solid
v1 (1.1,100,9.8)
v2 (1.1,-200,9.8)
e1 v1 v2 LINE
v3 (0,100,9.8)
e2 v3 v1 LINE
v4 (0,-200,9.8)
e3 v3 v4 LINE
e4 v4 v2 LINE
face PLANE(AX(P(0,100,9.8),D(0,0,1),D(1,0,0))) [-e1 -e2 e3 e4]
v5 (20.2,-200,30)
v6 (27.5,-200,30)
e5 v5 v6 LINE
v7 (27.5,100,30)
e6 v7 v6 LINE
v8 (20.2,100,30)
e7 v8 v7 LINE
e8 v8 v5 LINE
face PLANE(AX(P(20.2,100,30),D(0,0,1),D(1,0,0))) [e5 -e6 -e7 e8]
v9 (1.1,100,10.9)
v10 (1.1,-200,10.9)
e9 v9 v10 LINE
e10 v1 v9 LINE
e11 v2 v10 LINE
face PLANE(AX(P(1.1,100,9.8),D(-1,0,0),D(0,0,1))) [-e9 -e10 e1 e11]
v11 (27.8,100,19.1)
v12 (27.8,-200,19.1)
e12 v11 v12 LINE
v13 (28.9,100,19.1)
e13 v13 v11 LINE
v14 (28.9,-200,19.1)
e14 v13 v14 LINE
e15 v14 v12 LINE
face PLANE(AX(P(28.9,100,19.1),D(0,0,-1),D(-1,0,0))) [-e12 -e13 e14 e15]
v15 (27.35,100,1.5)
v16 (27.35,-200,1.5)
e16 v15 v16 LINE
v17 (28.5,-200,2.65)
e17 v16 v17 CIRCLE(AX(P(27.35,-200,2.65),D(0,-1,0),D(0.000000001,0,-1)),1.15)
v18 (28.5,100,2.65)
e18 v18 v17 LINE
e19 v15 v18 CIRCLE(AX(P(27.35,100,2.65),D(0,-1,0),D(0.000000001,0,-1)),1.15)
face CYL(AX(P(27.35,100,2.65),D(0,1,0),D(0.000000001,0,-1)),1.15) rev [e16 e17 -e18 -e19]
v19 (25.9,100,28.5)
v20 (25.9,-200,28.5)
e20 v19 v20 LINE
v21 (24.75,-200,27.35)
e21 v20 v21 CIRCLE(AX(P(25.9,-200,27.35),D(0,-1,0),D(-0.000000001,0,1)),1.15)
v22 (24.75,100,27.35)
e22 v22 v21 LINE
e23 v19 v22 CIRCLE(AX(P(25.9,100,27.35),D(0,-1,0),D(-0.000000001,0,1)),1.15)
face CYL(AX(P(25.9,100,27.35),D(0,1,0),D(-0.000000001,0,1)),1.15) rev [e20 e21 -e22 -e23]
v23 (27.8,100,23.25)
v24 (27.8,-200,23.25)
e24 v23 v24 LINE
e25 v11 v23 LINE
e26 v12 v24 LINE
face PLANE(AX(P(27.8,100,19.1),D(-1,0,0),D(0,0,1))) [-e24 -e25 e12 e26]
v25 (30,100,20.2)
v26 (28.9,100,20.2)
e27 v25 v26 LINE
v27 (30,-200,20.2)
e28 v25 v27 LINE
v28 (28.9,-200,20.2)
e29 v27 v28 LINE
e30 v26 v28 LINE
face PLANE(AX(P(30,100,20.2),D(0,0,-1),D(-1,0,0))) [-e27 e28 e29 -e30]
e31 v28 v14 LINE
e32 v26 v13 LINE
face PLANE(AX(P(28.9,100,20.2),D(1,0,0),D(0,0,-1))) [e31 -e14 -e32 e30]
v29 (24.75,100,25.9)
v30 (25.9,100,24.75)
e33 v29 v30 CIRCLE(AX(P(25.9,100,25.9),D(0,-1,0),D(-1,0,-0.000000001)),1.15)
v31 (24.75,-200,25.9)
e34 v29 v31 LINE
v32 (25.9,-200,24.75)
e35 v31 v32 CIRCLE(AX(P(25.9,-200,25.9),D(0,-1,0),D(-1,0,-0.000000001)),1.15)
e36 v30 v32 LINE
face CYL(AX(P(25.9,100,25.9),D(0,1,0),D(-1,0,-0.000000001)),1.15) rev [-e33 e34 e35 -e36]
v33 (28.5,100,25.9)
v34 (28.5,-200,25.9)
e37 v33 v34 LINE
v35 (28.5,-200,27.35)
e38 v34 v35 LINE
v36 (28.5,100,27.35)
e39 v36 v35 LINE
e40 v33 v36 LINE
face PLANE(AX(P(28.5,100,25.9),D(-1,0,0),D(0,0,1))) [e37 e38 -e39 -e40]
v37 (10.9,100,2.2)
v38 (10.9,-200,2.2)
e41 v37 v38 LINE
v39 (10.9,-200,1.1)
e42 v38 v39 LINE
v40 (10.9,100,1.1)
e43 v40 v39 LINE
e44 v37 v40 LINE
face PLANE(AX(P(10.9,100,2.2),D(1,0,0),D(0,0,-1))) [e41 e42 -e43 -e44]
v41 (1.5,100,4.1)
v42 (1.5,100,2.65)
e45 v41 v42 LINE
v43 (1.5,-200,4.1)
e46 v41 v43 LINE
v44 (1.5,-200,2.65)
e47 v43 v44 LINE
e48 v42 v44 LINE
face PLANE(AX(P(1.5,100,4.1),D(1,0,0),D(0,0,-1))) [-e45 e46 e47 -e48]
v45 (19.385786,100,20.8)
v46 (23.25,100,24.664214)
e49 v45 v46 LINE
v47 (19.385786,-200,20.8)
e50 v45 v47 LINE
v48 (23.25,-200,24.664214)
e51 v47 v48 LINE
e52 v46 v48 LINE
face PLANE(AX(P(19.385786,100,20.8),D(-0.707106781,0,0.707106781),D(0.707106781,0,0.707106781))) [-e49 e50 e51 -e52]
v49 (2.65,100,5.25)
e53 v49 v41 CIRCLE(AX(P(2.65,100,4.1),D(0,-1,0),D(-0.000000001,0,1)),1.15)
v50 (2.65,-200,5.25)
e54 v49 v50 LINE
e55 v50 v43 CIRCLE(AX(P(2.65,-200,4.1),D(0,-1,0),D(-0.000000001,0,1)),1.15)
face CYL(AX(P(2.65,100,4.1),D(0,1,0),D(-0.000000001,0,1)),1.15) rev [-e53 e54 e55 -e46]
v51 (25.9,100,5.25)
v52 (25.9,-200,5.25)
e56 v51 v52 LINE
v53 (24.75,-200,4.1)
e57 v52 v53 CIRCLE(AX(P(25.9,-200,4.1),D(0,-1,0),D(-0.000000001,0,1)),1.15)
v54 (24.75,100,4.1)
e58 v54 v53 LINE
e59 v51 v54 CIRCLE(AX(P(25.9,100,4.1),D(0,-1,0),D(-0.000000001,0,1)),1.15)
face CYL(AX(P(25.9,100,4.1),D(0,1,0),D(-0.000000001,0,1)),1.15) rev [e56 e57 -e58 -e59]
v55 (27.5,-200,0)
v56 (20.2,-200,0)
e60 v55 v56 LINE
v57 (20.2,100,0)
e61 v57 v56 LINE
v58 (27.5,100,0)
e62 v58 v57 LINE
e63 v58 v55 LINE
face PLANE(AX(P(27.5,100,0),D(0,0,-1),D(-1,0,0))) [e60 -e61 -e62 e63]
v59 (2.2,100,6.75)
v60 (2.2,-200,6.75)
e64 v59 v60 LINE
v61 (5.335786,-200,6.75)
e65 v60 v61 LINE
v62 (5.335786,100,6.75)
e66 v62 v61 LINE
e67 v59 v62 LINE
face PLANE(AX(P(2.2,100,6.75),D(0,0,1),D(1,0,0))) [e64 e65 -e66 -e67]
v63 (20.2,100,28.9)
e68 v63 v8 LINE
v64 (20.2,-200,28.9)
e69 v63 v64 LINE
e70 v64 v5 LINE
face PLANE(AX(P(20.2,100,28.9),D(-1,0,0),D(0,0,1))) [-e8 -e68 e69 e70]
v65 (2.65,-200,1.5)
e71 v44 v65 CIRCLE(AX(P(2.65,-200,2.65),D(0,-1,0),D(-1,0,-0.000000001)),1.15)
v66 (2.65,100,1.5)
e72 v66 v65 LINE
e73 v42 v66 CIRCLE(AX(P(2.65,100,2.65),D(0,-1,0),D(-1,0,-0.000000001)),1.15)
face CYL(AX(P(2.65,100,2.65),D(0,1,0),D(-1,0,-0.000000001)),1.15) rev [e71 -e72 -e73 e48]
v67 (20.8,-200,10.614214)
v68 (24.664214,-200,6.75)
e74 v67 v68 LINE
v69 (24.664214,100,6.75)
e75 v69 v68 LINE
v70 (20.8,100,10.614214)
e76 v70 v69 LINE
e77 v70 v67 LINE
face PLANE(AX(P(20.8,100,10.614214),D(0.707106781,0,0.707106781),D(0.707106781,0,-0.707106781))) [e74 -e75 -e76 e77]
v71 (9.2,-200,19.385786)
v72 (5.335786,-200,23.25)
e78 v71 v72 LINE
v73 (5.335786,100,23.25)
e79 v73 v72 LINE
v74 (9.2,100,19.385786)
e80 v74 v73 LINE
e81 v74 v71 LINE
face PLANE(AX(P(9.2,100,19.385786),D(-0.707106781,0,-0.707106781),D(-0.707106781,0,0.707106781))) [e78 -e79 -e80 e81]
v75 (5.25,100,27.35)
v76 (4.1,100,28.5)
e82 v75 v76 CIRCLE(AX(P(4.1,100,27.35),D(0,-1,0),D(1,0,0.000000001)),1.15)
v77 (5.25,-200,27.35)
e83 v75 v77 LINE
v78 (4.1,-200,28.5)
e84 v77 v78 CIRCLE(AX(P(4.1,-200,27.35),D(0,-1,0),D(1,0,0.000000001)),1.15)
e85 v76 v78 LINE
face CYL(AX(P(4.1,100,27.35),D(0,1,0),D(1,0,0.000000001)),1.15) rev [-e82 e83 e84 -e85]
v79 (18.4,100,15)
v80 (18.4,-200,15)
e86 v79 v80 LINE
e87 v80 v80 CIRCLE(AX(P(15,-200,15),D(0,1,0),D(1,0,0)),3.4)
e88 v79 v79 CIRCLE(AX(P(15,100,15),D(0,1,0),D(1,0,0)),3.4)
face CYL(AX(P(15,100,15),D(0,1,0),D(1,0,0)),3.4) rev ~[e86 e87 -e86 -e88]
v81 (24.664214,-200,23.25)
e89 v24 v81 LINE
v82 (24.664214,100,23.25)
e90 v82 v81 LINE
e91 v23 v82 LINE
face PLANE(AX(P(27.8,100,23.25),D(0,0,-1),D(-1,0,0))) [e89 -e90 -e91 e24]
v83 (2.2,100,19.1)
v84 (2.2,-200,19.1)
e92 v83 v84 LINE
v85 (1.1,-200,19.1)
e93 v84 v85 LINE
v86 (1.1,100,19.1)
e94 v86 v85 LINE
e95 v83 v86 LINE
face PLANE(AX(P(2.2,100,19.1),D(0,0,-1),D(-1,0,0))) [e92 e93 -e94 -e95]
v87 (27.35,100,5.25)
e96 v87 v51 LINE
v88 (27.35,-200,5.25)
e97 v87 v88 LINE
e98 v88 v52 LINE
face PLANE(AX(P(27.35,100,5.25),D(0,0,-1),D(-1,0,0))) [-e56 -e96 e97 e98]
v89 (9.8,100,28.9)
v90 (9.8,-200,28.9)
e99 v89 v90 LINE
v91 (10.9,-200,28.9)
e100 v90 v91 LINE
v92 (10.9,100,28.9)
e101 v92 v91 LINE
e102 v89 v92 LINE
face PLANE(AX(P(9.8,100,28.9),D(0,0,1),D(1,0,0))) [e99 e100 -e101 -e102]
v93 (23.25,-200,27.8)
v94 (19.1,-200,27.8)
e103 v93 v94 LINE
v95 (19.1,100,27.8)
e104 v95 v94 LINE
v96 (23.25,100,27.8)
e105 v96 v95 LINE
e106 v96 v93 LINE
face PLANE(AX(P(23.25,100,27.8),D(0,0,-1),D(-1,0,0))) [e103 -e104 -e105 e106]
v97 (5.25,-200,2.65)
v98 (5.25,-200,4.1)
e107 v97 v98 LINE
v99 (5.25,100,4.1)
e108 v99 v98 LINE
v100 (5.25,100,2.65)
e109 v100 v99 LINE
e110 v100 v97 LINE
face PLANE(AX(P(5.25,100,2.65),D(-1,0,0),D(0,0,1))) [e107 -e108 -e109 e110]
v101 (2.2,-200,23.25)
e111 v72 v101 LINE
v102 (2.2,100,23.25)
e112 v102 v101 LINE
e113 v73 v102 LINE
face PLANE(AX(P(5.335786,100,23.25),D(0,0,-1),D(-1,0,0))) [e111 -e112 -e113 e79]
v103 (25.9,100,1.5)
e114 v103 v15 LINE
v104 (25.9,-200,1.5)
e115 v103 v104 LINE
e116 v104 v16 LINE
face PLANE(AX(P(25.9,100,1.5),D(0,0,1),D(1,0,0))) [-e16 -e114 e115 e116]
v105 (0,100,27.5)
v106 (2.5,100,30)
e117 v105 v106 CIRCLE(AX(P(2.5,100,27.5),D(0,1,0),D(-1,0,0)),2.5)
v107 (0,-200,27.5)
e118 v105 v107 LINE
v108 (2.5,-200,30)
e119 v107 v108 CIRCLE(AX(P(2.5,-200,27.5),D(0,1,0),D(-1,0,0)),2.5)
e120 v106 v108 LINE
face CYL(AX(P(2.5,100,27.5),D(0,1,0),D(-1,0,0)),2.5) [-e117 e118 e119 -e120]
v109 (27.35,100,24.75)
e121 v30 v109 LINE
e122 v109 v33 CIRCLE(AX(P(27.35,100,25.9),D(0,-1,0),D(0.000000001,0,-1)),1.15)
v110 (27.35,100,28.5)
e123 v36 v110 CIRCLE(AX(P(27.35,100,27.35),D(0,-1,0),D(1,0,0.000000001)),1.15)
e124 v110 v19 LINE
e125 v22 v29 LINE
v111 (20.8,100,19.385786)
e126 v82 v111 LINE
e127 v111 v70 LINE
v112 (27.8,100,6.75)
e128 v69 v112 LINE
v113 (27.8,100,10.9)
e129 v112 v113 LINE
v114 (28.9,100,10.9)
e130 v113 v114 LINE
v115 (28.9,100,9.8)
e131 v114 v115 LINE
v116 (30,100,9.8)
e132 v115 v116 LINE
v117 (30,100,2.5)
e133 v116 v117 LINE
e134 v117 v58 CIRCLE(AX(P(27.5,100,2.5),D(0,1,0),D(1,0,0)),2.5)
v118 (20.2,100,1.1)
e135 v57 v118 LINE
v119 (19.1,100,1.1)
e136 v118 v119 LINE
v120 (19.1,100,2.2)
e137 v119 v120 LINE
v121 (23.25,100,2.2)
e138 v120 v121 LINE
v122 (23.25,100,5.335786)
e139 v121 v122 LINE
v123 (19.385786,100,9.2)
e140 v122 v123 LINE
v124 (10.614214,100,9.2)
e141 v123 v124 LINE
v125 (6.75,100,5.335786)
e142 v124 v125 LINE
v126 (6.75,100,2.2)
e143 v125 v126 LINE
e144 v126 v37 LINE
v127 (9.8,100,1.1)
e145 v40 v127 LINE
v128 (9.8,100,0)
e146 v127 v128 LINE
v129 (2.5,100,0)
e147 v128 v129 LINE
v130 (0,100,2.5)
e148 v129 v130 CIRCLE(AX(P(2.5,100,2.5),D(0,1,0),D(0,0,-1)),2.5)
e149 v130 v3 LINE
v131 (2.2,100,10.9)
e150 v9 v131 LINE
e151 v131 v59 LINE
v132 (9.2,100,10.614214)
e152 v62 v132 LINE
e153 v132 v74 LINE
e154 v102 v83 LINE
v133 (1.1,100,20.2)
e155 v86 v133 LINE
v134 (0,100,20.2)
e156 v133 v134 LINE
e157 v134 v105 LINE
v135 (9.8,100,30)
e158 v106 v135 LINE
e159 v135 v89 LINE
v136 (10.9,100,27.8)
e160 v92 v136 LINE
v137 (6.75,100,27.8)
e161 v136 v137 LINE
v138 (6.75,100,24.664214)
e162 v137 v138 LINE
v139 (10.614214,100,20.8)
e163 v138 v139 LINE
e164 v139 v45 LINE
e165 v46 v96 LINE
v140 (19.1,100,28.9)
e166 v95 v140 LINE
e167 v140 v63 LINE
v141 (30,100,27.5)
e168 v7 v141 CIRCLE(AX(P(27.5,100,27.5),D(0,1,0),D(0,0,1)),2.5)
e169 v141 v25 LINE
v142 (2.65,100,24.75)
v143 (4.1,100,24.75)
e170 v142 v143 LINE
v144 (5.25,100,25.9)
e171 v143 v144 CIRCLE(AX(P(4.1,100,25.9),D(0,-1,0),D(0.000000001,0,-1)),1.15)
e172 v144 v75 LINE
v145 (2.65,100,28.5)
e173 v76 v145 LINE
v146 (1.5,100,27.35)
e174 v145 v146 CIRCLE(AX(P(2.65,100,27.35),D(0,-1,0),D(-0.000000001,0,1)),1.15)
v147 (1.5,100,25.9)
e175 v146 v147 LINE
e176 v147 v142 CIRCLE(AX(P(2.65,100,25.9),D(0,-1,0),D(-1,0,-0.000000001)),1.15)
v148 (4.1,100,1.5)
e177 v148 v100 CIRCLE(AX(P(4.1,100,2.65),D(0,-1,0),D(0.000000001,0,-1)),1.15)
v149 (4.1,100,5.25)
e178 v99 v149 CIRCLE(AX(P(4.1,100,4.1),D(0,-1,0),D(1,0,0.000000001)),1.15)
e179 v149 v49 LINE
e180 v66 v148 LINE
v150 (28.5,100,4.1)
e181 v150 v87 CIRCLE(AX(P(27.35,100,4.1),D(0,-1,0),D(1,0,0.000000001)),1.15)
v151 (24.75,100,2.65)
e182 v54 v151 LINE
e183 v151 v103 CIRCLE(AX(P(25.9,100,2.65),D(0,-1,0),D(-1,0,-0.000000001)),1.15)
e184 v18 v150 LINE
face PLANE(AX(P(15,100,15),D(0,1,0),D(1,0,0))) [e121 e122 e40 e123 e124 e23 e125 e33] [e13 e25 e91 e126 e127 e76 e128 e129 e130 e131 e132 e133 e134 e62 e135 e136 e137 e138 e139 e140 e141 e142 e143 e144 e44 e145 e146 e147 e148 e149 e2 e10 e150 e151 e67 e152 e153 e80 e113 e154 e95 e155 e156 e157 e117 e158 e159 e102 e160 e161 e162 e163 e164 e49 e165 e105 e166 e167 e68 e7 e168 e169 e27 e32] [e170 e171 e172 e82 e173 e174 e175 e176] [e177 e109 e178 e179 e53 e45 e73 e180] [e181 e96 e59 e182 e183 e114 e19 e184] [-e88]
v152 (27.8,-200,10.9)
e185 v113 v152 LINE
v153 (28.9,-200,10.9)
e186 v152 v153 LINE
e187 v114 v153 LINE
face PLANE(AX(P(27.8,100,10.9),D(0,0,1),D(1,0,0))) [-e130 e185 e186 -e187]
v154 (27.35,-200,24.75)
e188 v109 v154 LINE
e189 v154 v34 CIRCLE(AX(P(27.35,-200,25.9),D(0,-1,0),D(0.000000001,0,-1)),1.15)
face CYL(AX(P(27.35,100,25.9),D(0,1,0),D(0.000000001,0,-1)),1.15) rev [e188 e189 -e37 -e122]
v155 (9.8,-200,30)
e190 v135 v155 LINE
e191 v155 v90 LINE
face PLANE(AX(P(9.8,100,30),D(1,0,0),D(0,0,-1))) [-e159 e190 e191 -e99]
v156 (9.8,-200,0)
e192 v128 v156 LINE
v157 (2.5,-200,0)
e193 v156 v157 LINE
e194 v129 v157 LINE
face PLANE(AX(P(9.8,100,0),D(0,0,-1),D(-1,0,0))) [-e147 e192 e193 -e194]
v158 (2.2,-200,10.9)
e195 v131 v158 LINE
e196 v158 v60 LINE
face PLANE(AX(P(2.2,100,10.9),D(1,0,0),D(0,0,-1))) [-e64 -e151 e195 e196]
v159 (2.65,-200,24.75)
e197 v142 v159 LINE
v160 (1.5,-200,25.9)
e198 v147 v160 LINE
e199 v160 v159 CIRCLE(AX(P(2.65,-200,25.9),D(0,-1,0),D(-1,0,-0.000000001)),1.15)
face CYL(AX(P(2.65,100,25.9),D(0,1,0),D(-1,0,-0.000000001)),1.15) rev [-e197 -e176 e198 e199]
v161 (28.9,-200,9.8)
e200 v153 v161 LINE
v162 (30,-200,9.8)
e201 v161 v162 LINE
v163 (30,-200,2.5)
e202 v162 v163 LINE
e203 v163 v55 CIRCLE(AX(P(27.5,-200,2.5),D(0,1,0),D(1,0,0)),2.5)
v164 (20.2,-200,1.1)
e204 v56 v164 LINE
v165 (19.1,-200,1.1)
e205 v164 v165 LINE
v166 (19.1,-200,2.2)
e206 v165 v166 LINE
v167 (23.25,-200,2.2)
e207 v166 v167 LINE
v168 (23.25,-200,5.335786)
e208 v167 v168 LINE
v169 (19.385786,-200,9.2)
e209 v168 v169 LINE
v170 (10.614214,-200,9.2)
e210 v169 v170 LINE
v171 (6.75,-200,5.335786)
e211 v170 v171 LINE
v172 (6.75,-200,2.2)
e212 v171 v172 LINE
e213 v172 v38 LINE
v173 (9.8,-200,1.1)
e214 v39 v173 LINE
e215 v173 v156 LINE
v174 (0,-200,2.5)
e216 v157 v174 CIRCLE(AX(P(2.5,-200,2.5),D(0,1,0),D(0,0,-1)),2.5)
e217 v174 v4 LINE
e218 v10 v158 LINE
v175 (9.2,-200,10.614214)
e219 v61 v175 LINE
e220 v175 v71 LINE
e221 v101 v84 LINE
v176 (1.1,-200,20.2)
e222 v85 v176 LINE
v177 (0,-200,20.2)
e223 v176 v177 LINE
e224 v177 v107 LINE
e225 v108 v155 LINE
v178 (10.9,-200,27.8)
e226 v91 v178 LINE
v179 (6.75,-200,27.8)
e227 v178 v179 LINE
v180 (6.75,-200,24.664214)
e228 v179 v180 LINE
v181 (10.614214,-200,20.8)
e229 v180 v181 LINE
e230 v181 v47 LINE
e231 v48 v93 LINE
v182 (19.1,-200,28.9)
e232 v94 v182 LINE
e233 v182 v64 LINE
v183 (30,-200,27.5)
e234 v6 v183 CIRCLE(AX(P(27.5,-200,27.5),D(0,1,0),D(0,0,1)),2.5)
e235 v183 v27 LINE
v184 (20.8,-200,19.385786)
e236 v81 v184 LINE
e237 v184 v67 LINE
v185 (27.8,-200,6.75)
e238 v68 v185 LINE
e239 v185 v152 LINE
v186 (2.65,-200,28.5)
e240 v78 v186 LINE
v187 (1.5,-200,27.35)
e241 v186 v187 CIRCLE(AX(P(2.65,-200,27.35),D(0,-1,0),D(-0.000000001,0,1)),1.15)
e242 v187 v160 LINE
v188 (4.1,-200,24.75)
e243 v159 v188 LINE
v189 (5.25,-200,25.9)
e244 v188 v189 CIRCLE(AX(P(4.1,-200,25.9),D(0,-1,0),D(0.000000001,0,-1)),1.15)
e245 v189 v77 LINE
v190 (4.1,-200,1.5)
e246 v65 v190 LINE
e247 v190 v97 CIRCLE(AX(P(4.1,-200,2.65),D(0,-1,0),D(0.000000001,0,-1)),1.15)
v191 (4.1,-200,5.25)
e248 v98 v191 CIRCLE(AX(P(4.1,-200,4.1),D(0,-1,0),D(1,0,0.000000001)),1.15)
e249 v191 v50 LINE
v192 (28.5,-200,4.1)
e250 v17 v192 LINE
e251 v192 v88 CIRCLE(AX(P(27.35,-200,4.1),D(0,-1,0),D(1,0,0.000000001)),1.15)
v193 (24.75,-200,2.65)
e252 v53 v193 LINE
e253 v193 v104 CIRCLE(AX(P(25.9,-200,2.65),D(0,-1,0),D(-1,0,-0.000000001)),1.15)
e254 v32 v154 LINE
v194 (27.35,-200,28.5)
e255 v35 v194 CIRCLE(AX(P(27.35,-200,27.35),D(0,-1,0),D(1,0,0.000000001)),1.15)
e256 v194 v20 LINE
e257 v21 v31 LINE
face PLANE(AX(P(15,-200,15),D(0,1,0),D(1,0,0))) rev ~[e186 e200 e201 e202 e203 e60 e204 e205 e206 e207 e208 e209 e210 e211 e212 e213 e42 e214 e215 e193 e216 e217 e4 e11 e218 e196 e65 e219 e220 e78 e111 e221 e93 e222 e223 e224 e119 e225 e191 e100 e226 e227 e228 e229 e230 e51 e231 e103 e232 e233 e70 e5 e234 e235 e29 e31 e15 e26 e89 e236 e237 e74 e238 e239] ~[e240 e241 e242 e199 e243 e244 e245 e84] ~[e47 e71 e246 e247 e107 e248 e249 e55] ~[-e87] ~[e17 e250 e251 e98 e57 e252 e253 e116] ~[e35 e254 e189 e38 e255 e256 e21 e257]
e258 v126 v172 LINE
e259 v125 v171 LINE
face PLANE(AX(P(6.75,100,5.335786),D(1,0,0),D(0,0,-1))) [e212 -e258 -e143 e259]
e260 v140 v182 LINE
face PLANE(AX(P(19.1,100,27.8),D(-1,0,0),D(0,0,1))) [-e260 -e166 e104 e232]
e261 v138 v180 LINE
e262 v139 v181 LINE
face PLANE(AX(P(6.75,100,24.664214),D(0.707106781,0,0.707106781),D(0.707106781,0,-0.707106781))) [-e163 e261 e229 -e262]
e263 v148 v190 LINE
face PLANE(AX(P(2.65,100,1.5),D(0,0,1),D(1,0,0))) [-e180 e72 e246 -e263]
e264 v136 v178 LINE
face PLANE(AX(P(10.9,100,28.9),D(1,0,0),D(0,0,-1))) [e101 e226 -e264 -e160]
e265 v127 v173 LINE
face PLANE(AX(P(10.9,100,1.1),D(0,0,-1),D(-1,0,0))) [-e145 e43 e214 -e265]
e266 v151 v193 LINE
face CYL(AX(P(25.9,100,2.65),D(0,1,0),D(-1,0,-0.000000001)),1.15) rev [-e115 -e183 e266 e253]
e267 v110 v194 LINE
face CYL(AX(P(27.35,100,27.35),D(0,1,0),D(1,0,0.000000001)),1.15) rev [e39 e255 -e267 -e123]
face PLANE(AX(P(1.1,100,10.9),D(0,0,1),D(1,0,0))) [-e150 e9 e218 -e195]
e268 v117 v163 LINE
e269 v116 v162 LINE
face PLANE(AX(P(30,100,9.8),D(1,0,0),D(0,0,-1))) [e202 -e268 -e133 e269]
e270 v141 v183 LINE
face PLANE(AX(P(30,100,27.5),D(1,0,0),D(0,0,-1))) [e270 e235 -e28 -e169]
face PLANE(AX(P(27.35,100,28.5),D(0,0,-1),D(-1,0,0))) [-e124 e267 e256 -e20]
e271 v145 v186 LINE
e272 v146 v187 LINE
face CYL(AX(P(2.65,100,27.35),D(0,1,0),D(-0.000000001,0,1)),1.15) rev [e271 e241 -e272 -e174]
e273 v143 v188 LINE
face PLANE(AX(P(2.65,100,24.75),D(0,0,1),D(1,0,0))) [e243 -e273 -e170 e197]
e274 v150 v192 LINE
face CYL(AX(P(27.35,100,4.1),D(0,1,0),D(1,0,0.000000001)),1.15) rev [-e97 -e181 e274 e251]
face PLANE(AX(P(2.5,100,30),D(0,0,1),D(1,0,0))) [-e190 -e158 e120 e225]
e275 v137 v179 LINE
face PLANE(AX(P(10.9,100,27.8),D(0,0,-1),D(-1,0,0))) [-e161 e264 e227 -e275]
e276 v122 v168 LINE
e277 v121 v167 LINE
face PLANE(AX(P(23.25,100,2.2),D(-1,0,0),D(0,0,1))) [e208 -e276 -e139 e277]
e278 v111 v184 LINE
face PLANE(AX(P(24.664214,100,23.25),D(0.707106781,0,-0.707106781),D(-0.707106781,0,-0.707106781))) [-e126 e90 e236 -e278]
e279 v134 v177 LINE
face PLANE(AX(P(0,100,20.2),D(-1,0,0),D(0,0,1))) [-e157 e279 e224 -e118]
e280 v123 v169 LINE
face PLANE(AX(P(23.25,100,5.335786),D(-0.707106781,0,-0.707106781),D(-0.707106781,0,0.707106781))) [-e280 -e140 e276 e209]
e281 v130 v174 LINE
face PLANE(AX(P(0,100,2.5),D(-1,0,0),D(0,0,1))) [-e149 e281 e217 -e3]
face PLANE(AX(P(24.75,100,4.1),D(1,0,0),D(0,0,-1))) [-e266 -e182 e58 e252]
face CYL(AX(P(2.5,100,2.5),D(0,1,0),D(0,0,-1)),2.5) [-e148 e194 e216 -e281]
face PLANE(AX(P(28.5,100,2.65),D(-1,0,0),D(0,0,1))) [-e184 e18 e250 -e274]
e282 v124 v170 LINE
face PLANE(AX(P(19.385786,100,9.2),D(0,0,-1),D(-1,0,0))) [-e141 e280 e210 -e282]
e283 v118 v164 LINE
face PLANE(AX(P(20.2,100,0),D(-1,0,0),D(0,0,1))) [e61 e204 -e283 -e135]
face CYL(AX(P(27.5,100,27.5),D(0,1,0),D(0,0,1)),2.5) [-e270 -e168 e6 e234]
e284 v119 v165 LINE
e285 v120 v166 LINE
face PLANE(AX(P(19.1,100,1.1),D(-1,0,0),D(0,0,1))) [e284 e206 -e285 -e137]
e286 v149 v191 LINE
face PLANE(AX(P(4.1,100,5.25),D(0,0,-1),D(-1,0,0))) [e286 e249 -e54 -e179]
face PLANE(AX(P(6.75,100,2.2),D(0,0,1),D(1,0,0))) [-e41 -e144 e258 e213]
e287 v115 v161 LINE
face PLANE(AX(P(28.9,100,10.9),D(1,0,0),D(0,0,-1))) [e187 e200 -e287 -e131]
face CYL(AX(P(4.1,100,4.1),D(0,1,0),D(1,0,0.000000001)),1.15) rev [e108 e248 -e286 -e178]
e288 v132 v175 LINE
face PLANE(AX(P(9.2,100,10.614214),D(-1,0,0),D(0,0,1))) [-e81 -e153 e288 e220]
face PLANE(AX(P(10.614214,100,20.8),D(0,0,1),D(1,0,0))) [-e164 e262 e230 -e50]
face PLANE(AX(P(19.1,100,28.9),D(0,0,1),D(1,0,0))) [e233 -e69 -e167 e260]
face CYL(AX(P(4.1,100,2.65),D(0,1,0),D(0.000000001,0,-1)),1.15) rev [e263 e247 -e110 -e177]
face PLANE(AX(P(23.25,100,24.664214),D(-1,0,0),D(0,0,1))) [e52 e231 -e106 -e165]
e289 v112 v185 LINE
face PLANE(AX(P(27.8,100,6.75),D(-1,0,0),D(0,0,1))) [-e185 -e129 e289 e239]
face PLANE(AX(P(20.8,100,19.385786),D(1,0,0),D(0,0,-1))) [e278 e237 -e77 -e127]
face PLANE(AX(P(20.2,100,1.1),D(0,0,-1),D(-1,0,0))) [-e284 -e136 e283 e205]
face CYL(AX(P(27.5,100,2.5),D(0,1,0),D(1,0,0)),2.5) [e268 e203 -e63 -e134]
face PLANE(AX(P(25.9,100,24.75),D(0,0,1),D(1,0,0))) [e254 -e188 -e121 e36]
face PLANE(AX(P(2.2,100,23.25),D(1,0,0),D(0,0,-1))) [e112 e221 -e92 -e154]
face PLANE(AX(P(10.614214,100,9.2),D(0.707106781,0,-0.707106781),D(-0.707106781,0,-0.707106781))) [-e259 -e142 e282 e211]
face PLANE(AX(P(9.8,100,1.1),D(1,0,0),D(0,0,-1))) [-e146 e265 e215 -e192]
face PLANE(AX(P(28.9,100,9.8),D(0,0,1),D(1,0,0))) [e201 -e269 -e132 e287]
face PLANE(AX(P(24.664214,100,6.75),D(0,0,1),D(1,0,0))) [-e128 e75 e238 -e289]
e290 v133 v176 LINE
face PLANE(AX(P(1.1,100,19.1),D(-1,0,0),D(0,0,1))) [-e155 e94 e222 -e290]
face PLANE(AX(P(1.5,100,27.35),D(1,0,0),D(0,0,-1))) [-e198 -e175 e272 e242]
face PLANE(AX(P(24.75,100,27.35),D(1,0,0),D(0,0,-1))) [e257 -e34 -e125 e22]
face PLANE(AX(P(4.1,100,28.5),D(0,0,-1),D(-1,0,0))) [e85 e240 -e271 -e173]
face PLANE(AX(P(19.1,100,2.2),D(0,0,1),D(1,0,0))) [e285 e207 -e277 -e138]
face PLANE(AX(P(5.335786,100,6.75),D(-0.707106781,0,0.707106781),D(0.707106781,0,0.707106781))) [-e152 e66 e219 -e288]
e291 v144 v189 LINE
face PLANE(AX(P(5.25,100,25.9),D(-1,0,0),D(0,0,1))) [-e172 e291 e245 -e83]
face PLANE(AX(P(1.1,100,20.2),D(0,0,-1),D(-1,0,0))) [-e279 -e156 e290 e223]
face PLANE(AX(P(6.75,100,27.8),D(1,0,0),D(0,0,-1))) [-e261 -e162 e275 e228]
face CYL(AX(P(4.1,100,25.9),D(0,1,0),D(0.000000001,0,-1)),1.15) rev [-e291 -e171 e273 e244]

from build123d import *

# Parameters (mm, degrees)
SKETCH1_R           = 3.4
BOSS_EXTRUDE1_DEPTH = 300


with BuildPart() as part:
    # Sketch1 → Boss-Extrude1 (new body)
    with BuildSketch(Plane(origin=(0, 100, 0), x_dir=(1, 0, 0), z_dir=(0, 1, 0))):
        with BuildLine():
            Line((27.5, 0), (20.200000224, 0))
            Line((20.200000224, 0), (20.200000224, -1.1))
            Line((20.200000224, -1.1), (19.1, -1.1))
            Line((19.1, -1.1), (19.1, -2.2))
            Line((19.1, -2.2), (23.249999989, -2.2))
            Line((23.249999989, -2.2), (23.249999989, -5.335786427))
            Line((23.249999989, -5.335786427), (19.385786417, -9.2))
            Line((19.385786417, -9.2), (10.614213562, -9.2))
            Line((10.614213562, -9.2), (6.75, -5.335786438))
            Line((6.75, -5.335786438), (6.75, -2.2))
            Line((6.75, -2.2), (10.9, -2.2))
            Line((10.9, -2.2), (10.9, -1.1))
            Line((10.9, -1.1), (9.799999776, -1.1))
            Line((9.799999776, -1.1), (9.799999776, 0))
            Line((9.799999776, 0), (2.5, 0))
            ThreePointArc((2.5, 0), (0.732233047, -0.732233047), (0, -2.5))
            Line((0, -2.5), (0, -9.799999776))
            Line((0, -9.799999776), (1.1, -9.799999776))
            Line((1.1, -9.799999776), (1.1, -10.9))
            Line((1.1, -10.9), (2.199999979, -10.9))
            Line((2.199999979, -10.9), (2.199999979, -6.750000011))
            Line((2.199999979, -6.750000011), (5.335786427, -6.750000011))
            Line((5.335786427, -6.750000011), (9.199999989, -10.614213573))
            Line((9.199999989, -10.614213573), (9.199999989, -19.385786427))
            Line((9.199999989, -19.385786427), (5.335786417, -23.25))
            Line((5.335786417, -23.25), (2.199999979, -23.25))
            Line((2.199999979, -23.25), (2.199999979, -19.1))
            Line((2.199999979, -19.1), (1.1, -19.1))
            Line((1.1, -19.1), (1.1, -20.200000224))
            Line((1.1, -20.200000224), (0, -20.200000224))
            Line((0, -20.200000224), (0, -27.5))
            ThreePointArc((0, -27.5), (0.732233047, -29.267766953), (2.5, -30))
            Line((2.5, -30), (9.799999776, -30))
            Line((9.799999776, -30), (9.799999776, -28.9))
            Line((9.799999776, -28.9), (10.9, -28.9))
            Line((10.9, -28.9), (10.9, -27.8))
            Line((10.9, -27.8), (6.75, -27.8))
            Line((6.75, -27.8), (6.75, -24.664213562))
            Line((6.75, -24.664213562), (10.614213562, -20.8))
            Line((10.614213562, -20.8), (19.385786417, -20.8))
            Line((19.385786417, -20.8), (23.249999989, -24.664213573))
            Line((23.249999989, -24.664213573), (23.249999989, -27.8))
            Line((23.249999989, -27.8), (19.1, -27.8))
            Line((19.1, -27.8), (19.1, -28.9))
            Line((19.1, -28.9), (20.200000224, -28.9))
            Line((20.200000224, -28.9), (20.200000224, -30))
            Line((20.200000224, -30), (27.5, -30))
            ThreePointArc((27.5, -30), (29.267766953, -29.267766953), (30, -27.5))
            Line((30, -27.5), (30, -20.200000224))
            Line((30, -20.200000224), (28.9, -20.200000224))
            Line((28.9, -20.200000224), (28.9, -19.1))
            Line((28.9, -19.1), (27.799999979, -19.1))
            Line((27.799999979, -19.1), (27.799999979, -23.25))
            Line((27.799999979, -23.25), (24.664213562, -23.25))
            Line((24.664213562, -23.25), (20.799999989, -19.385786427))
            Line((20.799999989, -19.385786427), (20.799999989, -10.614213573))
            Line((20.799999989, -10.614213573), (24.664213552, -6.750000011))
            Line((24.664213552, -6.750000011), (27.799999979, -6.750000011))
            Line((27.799999979, -6.750000011), (27.799999979, -10.9))
            Line((27.799999979, -10.9), (28.9, -10.9))
            Line((28.9, -10.9), (28.9, -9.799999776))
            Line((28.9, -9.799999776), (30, -9.799999776))
            Line((30, -9.799999776), (30, -2.5))
            ThreePointArc((30, -2.5), (29.267766953, -0.732233047), (27.5, 0))
        make_face()
        with Locations((15, -15)):
            Circle(SKETCH1_R, mode=Mode.SUBTRACT)
        with BuildLine():
            Line((28.5, -25.9), (28.5, -27.35))
            ThreePointArc((28.5, -27.35), (28.163172798, -28.163172798), (27.35, -28.5))
            Line((27.35, -28.5), (25.9, -28.5))
            ThreePointArc((25.9, -28.5), (25.086827202, -28.163172798), (24.75, -27.35))
            Line((24.75, -27.35), (24.75, -25.9))
            ThreePointArc((24.75, -25.9), (25.086827202, -25.086827202), (25.9, -24.75))
            Line((25.9, -24.75), (27.35, -24.75))
            ThreePointArc((27.35, -24.75), (28.163172798, -25.086827202), (28.5, -25.9))
        make_face(mode=Mode.SUBTRACT)
        with BuildLine():
            Line((1.5, -27.35), (1.5, -25.9))
            ThreePointArc((1.5, -25.9), (1.836827202, -25.086827202), (2.65, -24.75))
            Line((2.65, -24.75), (4.1, -24.75))
            ThreePointArc((4.1, -24.75), (4.913172798, -25.086827202), (5.25, -25.9))
            Line((5.25, -25.9), (5.25, -27.35))
            ThreePointArc((5.25, -27.35), (4.913172798, -28.163172798), (4.1, -28.5))
            Line((4.1, -28.5), (2.65, -28.5))
            ThreePointArc((2.65, -28.5), (1.836827202, -28.163172798), (1.5, -27.35))
        make_face(mode=Mode.SUBTRACT)
        with BuildLine():
            Line((2.65, -1.5), (4.1, -1.5))
            ThreePointArc((4.1, -1.5), (4.913172798, -1.836827202), (5.25, -2.65))
            Line((5.25, -2.65), (5.25, -4.1))
            ThreePointArc((5.25, -4.1), (4.913172798, -4.913172798), (4.1, -5.25))
            Line((4.1, -5.25), (2.65, -5.25))
            ThreePointArc((2.65, -5.25), (1.836827202, -4.913172798), (1.5, -4.1))
            Line((1.5, -4.1), (1.5, -2.65))
            ThreePointArc((1.5, -2.65), (1.836827202, -1.836827202), (2.65, -1.5))
        make_face(mode=Mode.SUBTRACT)
        with BuildLine():
            Line((28.5, -2.65), (28.5, -4.1))
            ThreePointArc((28.5, -4.1), (28.163172798, -4.913172798), (27.35, -5.25))
            Line((27.35, -5.25), (25.9, -5.25))
            ThreePointArc((25.9, -5.25), (25.086827202, -4.913172798), (24.75, -4.1))
            Line((24.75, -4.1), (24.75, -2.65))
            ThreePointArc((24.75, -2.65), (25.086827202, -1.836827202), (25.9, -1.5))
            Line((25.9, -1.5), (27.35, -1.5))
            ThreePointArc((27.35, -1.5), (28.163172798, -1.836827202), (28.5, -2.65))
        make_face(mode=Mode.SUBTRACT)
    extrude(amount=-BOSS_EXTRUDE1_DEPTH)


solid = part.part
